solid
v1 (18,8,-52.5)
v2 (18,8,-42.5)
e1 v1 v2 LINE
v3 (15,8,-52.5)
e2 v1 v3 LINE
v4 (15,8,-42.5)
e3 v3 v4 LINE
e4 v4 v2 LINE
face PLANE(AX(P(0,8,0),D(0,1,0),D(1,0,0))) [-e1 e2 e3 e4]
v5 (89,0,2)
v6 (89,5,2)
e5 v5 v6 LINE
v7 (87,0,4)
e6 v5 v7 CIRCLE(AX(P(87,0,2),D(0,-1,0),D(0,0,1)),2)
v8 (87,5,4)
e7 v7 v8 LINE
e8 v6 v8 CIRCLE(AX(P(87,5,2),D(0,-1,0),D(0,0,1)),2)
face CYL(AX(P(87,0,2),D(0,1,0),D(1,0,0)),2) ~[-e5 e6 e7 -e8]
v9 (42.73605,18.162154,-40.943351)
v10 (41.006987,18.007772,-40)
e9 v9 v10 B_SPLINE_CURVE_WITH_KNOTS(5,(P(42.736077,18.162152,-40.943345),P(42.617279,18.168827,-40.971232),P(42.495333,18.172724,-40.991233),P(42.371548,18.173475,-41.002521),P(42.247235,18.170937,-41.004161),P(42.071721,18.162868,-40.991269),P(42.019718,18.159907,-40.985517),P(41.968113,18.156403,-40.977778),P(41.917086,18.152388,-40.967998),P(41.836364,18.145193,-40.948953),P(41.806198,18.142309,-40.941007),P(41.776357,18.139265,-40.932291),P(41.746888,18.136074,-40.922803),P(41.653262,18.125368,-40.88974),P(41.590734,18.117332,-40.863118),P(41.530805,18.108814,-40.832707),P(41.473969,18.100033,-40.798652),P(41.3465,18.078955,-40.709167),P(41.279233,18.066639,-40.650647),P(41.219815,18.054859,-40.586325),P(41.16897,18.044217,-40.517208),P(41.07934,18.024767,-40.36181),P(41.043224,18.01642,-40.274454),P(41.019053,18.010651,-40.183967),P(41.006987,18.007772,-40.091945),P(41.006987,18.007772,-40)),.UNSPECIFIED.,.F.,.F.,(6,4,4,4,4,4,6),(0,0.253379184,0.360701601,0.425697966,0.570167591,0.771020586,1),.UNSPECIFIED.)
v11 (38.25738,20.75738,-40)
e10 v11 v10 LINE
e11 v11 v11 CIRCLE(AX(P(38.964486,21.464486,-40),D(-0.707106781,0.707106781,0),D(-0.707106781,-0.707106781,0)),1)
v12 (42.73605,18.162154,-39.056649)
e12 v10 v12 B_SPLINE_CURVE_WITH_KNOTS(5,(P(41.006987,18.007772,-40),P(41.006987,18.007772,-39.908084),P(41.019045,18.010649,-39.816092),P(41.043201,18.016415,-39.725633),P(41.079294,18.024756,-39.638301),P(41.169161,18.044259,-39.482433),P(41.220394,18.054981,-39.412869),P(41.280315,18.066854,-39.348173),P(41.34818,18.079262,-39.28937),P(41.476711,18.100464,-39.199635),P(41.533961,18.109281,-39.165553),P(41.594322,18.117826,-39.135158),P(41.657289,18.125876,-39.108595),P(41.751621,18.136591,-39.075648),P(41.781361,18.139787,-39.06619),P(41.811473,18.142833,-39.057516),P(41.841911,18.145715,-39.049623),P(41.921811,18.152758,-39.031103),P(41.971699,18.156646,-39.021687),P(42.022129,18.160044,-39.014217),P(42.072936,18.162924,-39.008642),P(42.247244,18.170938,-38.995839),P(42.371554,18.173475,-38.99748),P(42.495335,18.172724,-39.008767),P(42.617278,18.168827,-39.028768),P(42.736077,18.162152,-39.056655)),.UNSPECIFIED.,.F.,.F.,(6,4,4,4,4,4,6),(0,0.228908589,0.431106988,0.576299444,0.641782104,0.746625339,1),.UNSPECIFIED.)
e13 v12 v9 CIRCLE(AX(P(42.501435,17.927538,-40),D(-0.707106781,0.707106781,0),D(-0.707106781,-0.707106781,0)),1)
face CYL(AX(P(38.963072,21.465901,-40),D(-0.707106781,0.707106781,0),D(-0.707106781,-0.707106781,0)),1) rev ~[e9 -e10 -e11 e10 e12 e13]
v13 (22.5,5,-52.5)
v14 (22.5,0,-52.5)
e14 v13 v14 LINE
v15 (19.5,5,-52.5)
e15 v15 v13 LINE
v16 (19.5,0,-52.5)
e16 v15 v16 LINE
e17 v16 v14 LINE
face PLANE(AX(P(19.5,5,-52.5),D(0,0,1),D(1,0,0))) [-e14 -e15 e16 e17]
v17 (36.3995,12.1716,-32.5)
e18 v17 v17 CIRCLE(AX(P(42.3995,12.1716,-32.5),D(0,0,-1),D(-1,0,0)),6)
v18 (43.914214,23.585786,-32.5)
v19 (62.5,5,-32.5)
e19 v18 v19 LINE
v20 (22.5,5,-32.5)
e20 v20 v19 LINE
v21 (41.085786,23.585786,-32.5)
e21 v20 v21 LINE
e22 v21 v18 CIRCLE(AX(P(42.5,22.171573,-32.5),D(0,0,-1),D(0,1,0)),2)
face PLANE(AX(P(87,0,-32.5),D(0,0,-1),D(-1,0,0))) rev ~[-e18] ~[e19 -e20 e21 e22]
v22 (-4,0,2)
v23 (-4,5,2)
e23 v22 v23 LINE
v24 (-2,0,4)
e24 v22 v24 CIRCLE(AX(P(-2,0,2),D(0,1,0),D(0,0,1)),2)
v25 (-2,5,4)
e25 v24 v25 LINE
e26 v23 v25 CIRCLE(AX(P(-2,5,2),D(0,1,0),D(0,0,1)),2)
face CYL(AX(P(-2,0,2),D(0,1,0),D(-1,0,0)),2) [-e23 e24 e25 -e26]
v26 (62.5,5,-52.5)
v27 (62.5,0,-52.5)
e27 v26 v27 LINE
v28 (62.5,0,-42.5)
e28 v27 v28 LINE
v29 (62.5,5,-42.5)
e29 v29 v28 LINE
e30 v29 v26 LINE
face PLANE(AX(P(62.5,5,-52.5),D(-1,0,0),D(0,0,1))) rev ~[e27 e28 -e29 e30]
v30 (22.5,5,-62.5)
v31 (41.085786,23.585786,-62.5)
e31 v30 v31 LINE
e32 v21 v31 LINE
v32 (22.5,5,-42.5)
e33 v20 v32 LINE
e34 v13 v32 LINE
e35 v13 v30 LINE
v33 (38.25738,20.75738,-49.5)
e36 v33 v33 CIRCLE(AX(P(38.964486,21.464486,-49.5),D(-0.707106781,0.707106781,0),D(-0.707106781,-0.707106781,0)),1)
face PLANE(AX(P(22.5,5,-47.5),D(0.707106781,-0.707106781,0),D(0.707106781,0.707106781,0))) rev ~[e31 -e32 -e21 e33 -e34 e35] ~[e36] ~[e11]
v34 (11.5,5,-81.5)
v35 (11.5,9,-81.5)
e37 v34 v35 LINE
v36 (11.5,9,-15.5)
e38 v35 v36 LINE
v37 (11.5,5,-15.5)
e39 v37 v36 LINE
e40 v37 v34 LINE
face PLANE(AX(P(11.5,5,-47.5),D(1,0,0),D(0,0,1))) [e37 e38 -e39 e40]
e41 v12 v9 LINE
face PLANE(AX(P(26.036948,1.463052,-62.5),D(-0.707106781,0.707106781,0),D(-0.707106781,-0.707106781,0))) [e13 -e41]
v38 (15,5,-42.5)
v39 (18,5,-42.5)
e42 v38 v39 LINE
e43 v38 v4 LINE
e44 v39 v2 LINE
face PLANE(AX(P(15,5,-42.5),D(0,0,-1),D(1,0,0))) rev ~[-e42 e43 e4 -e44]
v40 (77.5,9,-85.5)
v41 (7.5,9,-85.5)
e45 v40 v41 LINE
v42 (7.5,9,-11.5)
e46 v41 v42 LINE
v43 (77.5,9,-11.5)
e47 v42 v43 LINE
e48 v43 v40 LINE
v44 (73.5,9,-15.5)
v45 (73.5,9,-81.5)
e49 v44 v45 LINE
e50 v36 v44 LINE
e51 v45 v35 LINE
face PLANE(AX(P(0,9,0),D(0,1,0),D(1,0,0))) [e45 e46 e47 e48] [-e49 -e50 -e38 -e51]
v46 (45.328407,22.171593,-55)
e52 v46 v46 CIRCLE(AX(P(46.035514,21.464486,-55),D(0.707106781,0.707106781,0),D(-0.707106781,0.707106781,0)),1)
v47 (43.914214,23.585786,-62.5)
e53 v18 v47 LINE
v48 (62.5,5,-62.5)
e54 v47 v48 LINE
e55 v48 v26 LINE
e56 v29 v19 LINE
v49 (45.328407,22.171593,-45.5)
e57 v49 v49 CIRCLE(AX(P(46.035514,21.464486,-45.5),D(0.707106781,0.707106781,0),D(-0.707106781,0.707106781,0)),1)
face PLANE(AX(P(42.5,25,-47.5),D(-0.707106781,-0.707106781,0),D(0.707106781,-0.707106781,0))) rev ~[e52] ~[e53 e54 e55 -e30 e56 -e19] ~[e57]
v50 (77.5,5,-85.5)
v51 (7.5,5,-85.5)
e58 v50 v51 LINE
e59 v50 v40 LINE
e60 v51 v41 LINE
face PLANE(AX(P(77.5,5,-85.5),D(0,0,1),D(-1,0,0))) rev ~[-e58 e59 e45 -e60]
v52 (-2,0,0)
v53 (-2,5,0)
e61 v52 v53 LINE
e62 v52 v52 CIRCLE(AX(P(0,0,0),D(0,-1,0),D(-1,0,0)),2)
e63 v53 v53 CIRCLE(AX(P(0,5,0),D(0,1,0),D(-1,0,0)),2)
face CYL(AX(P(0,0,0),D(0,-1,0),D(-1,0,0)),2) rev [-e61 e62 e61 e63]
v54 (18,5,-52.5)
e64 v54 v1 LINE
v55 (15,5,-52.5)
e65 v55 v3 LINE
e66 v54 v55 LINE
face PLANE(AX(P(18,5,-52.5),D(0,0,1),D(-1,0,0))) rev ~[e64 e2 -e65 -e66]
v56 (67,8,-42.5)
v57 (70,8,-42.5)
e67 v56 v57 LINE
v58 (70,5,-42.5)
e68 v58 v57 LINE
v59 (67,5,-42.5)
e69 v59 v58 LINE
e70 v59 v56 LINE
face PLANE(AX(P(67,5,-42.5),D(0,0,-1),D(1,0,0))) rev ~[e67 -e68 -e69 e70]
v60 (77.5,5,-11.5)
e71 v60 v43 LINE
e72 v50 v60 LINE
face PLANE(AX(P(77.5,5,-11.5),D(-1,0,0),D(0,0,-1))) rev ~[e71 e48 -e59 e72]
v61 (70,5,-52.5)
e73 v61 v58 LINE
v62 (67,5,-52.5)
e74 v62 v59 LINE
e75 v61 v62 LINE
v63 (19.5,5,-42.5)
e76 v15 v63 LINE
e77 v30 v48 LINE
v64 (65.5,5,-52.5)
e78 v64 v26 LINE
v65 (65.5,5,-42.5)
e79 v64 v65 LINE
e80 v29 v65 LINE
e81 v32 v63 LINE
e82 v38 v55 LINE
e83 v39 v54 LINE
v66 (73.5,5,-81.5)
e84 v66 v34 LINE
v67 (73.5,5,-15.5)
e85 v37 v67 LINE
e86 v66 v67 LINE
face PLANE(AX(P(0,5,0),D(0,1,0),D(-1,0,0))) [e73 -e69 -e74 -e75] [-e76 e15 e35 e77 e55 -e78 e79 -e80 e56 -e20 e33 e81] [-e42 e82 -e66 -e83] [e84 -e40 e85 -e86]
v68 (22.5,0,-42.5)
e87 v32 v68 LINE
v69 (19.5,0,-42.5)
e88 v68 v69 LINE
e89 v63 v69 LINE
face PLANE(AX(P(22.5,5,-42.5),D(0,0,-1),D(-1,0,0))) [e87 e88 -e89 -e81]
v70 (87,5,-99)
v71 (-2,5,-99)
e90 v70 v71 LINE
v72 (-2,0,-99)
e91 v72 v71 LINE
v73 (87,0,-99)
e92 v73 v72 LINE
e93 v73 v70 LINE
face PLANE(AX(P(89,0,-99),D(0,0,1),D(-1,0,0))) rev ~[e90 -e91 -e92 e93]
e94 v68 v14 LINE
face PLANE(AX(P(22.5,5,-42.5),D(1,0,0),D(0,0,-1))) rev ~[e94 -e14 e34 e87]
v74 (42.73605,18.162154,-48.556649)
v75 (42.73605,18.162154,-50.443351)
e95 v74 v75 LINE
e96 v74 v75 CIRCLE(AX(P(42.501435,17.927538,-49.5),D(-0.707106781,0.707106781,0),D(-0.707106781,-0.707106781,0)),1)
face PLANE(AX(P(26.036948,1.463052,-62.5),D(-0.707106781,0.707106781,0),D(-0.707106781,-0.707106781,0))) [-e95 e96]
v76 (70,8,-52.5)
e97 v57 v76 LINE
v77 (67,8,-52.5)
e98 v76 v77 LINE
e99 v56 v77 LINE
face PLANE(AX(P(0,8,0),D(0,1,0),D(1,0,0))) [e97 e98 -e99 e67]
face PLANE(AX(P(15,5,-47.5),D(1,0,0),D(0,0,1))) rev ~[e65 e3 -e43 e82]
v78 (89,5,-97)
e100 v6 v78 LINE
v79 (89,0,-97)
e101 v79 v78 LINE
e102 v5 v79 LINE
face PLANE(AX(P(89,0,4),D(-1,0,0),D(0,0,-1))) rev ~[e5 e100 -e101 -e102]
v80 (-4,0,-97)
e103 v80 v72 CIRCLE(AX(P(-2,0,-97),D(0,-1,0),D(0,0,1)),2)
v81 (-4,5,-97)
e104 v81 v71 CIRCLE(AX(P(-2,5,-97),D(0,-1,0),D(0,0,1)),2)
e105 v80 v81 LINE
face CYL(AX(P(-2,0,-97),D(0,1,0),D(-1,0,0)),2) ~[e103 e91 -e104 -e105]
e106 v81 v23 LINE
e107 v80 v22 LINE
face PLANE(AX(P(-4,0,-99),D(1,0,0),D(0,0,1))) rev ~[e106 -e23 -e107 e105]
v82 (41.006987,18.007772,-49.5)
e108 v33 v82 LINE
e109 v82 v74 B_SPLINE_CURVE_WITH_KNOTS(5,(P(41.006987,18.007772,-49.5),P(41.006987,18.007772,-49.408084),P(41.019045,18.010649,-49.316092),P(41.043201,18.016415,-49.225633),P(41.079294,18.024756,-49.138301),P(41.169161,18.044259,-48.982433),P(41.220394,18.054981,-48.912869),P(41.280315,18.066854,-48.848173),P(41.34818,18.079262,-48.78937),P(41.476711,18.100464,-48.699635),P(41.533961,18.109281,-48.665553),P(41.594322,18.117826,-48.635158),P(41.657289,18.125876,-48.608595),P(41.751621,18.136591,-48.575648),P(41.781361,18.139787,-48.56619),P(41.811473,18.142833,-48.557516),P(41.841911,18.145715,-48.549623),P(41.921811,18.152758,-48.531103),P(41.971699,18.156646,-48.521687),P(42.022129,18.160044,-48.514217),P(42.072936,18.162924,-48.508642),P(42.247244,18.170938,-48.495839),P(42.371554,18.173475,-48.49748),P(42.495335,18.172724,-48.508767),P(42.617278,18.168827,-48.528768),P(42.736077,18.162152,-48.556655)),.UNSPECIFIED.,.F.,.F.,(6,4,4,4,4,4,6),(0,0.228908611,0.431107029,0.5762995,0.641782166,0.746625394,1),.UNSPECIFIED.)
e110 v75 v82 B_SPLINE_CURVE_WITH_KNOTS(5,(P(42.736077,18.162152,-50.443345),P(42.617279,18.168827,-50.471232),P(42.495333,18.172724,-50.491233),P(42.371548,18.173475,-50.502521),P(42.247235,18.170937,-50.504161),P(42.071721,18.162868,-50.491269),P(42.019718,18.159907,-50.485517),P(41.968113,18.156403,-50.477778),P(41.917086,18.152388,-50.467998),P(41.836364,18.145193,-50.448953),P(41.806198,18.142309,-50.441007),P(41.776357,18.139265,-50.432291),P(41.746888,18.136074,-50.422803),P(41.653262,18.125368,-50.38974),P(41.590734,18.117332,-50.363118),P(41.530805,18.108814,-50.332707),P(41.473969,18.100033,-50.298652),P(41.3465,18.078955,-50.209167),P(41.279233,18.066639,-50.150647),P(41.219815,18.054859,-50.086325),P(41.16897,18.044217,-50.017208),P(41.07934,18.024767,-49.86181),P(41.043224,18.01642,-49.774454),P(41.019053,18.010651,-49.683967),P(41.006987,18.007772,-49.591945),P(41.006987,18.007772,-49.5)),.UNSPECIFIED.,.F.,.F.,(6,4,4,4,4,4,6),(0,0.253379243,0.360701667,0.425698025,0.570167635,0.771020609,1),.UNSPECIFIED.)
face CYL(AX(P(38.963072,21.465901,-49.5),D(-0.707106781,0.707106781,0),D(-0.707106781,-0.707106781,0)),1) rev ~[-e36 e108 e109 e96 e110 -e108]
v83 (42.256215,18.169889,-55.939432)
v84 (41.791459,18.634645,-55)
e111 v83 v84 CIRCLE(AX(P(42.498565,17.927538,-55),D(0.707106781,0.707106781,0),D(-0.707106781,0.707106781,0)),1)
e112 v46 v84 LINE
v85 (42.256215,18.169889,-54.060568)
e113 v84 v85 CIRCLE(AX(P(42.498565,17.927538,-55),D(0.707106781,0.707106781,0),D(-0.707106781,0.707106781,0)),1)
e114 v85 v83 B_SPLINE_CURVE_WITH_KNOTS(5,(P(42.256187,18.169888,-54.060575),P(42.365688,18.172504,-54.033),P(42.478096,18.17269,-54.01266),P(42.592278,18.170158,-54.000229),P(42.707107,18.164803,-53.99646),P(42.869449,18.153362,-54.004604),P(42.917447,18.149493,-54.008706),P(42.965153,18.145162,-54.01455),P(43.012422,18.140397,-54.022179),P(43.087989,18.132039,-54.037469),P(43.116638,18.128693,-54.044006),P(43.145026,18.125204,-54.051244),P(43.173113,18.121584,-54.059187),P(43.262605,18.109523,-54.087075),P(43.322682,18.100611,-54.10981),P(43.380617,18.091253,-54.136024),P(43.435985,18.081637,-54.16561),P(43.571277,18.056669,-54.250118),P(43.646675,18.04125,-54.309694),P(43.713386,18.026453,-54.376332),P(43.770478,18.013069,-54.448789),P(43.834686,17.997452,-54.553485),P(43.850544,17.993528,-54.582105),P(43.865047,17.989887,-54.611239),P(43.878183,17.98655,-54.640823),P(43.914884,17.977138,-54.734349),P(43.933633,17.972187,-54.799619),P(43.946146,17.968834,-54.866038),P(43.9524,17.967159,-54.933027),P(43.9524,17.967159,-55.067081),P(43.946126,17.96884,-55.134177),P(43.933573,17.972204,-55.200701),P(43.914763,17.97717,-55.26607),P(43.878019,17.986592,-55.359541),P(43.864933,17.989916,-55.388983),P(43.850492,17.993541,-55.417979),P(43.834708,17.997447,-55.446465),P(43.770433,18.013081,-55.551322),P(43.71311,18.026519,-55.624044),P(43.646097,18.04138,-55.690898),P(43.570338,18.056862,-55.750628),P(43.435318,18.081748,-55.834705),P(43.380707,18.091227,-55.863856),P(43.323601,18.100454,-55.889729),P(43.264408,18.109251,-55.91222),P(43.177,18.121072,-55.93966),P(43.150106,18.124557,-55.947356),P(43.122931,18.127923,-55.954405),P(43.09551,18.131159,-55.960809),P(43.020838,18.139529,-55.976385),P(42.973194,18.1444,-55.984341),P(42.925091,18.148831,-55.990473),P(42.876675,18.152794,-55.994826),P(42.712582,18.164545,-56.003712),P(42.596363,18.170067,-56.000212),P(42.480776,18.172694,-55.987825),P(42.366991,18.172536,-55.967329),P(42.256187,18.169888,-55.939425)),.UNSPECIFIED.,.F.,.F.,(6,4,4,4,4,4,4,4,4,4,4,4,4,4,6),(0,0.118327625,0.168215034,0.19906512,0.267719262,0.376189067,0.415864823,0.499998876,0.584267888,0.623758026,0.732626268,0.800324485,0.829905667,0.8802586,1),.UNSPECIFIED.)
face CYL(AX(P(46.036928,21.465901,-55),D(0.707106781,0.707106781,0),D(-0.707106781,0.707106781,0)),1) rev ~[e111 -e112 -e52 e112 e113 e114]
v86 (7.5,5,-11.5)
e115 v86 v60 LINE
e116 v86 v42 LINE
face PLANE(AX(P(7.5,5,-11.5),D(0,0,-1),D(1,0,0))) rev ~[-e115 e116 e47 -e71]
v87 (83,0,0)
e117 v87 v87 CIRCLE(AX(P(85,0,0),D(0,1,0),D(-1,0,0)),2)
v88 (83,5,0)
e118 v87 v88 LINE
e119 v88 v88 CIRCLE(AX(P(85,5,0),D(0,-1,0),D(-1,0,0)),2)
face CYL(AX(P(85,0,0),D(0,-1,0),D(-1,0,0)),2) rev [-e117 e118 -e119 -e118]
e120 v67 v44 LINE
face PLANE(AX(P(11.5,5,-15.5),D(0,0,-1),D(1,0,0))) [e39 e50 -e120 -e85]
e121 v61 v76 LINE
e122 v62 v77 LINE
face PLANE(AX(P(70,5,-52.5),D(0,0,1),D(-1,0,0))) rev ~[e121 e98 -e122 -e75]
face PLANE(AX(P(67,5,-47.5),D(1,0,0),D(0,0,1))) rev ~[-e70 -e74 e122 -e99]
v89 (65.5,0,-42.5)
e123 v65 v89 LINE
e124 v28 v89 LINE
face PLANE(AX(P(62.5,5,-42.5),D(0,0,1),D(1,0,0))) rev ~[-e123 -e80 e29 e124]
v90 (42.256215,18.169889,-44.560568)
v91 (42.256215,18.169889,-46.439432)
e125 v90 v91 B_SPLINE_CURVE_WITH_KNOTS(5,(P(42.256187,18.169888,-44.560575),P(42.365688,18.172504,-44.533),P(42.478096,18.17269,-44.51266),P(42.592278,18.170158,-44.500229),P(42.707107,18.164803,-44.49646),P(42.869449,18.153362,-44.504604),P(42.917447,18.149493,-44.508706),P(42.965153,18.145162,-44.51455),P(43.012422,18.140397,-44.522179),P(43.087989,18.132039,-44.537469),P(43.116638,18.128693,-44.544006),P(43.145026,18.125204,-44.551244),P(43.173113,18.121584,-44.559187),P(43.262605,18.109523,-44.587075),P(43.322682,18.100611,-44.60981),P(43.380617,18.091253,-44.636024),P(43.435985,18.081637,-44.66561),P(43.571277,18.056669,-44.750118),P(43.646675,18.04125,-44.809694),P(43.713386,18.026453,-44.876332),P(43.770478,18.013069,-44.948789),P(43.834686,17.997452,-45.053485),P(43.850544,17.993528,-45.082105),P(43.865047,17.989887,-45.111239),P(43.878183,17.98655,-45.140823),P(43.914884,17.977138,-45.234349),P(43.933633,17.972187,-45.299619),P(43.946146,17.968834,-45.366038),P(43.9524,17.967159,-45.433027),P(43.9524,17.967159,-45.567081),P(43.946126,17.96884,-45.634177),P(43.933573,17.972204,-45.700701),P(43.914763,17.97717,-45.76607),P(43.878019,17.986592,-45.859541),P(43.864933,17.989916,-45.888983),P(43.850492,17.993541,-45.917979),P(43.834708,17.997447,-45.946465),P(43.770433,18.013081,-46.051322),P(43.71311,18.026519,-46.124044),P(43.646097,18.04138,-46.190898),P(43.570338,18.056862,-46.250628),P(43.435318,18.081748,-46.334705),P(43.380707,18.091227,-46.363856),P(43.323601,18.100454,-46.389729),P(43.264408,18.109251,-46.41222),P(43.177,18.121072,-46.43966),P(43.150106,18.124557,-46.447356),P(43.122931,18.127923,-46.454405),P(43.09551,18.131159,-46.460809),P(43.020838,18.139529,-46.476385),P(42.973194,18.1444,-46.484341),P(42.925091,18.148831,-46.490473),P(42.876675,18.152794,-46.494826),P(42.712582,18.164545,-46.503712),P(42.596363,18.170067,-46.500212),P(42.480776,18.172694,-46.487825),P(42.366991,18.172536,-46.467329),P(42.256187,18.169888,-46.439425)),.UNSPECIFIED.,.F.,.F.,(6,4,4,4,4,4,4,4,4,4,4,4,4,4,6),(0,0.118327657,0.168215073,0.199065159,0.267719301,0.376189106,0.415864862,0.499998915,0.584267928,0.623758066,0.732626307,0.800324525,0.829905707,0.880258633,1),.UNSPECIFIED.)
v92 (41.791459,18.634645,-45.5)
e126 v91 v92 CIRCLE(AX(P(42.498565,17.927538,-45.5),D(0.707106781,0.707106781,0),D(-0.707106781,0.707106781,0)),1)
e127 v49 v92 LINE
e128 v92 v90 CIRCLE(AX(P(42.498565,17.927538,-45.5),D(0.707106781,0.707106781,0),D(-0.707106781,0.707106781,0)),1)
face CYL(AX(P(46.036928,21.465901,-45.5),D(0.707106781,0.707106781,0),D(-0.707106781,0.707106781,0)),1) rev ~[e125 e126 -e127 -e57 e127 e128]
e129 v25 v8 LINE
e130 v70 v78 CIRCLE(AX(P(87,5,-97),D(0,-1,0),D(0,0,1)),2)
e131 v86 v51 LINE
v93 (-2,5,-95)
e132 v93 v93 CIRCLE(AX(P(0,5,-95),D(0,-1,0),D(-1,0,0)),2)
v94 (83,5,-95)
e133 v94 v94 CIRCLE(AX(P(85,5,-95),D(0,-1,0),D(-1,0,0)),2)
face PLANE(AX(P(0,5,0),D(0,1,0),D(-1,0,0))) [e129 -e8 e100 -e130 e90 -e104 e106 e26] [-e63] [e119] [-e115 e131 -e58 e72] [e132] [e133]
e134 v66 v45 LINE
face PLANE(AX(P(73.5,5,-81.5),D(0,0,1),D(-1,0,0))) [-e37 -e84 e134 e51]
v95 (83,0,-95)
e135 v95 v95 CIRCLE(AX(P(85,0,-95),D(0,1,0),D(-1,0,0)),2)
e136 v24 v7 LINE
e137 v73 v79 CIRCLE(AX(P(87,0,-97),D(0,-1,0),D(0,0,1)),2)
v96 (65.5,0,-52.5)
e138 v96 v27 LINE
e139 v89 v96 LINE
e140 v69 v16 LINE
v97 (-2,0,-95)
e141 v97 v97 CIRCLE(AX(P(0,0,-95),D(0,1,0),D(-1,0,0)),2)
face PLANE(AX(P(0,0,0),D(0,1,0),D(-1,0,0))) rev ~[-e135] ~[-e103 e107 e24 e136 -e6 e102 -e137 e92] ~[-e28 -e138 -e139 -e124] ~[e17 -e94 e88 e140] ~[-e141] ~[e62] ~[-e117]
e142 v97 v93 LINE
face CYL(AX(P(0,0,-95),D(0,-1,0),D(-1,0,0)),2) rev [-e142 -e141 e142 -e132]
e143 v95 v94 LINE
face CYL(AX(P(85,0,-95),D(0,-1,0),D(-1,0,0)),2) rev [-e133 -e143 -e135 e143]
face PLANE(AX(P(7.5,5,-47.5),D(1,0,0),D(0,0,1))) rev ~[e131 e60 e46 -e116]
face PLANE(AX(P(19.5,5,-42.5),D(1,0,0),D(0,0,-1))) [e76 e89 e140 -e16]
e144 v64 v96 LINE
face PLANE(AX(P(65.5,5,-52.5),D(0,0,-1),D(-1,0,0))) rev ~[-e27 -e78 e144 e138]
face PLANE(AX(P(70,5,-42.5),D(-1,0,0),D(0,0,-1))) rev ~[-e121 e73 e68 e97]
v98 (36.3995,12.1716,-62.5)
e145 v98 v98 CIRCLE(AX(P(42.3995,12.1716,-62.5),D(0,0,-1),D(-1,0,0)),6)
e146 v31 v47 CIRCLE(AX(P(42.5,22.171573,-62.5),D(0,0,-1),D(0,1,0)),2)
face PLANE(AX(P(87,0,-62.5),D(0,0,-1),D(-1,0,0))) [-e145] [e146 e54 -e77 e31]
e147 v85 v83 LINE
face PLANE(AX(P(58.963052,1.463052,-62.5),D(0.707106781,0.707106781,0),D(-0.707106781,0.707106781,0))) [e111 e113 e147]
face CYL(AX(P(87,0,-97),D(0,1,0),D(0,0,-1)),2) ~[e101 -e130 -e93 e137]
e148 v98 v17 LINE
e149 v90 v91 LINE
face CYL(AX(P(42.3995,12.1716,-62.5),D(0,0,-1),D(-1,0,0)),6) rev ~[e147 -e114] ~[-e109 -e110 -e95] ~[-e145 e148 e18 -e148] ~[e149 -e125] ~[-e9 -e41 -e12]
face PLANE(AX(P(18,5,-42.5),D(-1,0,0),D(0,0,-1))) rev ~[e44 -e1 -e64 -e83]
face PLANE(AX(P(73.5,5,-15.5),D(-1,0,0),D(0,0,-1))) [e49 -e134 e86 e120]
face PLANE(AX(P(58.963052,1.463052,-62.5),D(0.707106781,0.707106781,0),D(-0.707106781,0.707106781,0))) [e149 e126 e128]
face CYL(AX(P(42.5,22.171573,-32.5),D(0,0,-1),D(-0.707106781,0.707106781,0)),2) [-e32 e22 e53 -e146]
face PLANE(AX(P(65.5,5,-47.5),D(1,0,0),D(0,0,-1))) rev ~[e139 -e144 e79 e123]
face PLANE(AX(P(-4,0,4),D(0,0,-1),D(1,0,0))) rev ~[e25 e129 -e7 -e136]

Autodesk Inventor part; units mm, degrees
ref_plane "YZ Plane" through (0, 0, 0) normal (1, 0, 0) x (0, 1, 0)
ref_plane "XZ Plane" through (0, 0, 0) normal (0, 1, 0) x (-1, 0, 0)
ref_plane "XY Plane" through (0, 0, 0) normal (0, 0, 1) x (1, 0, 0)
sketch "Náčrt1" plane through (0, 0, 0) normal (0, 1, 0) x (-1, 0, 0)
  line L0 (0, 0) -> (-85, 0)
  line L1 (-85, 0) -> (-85, -95)
  line L2 (-85, -95) -> (0, -95)
  line L3 (0, -95) -> (0, 0)
  line L4 (4, 4) -> (-89, 4)
  line L5 (-89, 4) -> (-89, -99)
  line L6 (-89, -99) -> (4, -99)
  line L7 (4, -99) -> (4, 4)
  circle A0 centre (0, 0) radius 2
  circle A1 centre (0, -95) radius 2
  circle A2 centre (-85, -95) radius 2
  circle A3 centre (-85, 0) radius 2
  dimension "d0" = 4
  dimension "d1" = 4
  dimension "d2" = 4
  dimension "d3" = 4
  dimension "d4" = 85
  dimension "d5" = 95
  dimension "d6" = 4
  dimension "d7" = 4
  dimension "d8" = 4
  dimension "d9" = 4
  dimension "d10" = 4
  dimension "d11" = 4
extrude "Vysunutí1" add sketch "Náčrt1" along normal blind 5 contours L0 A0 L3 A1 L2 A2 L1 A3 | L7 L6 L5 L4
extrude "Vysunutí2" cut sketch "Náčrt1" along normal blind 5 contours A3 L1 L0 | L0 L1 A3 | A0 L3 L0 | L0 L3 A0 | A2 L2 L1 | L1 L2 A2 | A1 L2 L3 | L3 L2 A1
fillet "Zaoblení1" radius 2 4 edges at (89, 2.5, 4) (-4, 2.5, 4) (89, 2.5, -99) (-4, 2.5, -99)
sketch "Náčrt2" plane through (0, 5, 0) normal (0, 1, 0) x (1, 0, 0)
  point P0 (0, 0)
ref_plane "Pracovní rovina1" through (87, 0, -47.5) normal (0, 0, -1) x (-1, 0, 0)
sketch "Náčrt3" plane through (87, 0, -47.5) normal (0, 0, -1) x (-1, 0, 0)
  line L0 (89, 5) -> (0, 5) projected
  line L1 (24.5, 5) -> (64.5, 5)
  line L2 (64.5, 5) -> (44.5, 25)
  line L3 (44.5, 25) -> (24.5, 5)
  line L4 (24.5, 5) -> (64.5, 5)
  line L5 (91, 0) -> (91, 5) projected
  point P0 (87, 0)
  dimension "d22" = 90
  dimension "d26" = 45
  dimension "d27" = 20
  dimension "d28" = 46.5
extrude "Vysunutí3" add sketch "Náčrt3" along normal mid plane 30
fillet "Zaoblení2" radius 2 1 edges at (42.5, 25, -47.5)
sketch "Náčrt4" plane through (0, 5, 0) normal (0, 1, 0) x (1, 0, 0)
  line L0 (11.5, 15.5) -> (73.5, 15.5)
  line L1 (73.5, 15.5) -> (73.5, 81.5)
  line L2 (73.5, 81.5) -> (11.5, 81.5)
  line L3 (11.5, 81.5) -> (11.5, 15.5)
  line L4 (7.5, 11.5) -> (77.5, 11.5)
  line L5 (77.5, 11.5) -> (77.5, 85.5)
  line L6 (77.5, 85.5) -> (7.5, 85.5)
  line L7 (7.5, 85.5) -> (7.5, 11.5)
  line L8 (-22.6, 47.5) -> (107.6, 47.5) projected
  line L9 (-4, 97) -> (-4, -2) projected
  line L10 (89, -2) -> (89, 97) projected
  point P0 (0, 0)
  dimension "d32" = 62
  dimension "d33" = 66
  dimension "d34" = 4
  dimension "d35" = 4
  dimension "d36" = 4
  dimension "d37" = 4
  dimension "d38" = 34
  dimension "d39" = 11.5
  dimension "d40" = 11.5
extrude "Vysunutí4" add sketch "Náčrt4" along normal blind 4 contours L0 L1 L8 L5 L4 L7 L3 | L8 L7 L6 L5 L1 L2 L3
sketch "Náčrt5" plane through (0, 5, 0) normal (0, 1, 0) x (1, 0, 0)
  line L0 (67, 42.5) -> (70, 42.5)
  line L1 (70, 42.5) -> (70, 52.5)
  line L2 (70, 52.5) -> (67, 52.5)
  line L3 (67, 52.5) -> (67, 42.5)
  line L4 (73.5, 81.5) -> (73.5, 15.5) projected
  line L5 (-22.6, 47.5) -> (107.6, 47.5) projected
  line L6 (15, 42.5) -> (18, 42.5)
  line L7 (18, 42.5) -> (18, 52.5)
  line L8 (18, 52.5) -> (15, 52.5)
  line L9 (15, 52.5) -> (15, 42.5)
  line L10 (11.5, 15.5) -> (11.5, 81.5) projected
  point P0 (0, 0)
  dimension "d43" = 3.5
  dimension "d44" = 3
  dimension "d45" = 10
  dimension "d46" = 5
  dimension "d47" = 5
  dimension "d48" = 10
  dimension "d49" = 3
  dimension "d50" = 3.5
extrude "Vysunutí5" add sketch "Náčrt5" along normal blind 3
sketch "Náčrt6" plane through (62.5, 5, -62.5) normal (0.7071, 0.7071, 0) x (-0.7071, 0.7071, 0)
  circle A0 centre (23.2843, 17) radius 1
  circle A1 centre (23.2843, 7.5) radius 1
  line L0 (26.2843, 0) -> (0, 0) projected
  line L1 (26.2843, 30) -> (26.2843, 0) projected
  point P0 (40.6586, 62.5)
  dimension "d53" = 9.5
  dimension "d54" = 2
  dimension "d55" = 2
  dimension "d56" = 7.5
  dimension "d57" = 3
  dimension "d58" = 3
sketch "Náčrt7" plane through (22.5, 5, -62.5) normal (-0.7071, 0.7071, 0) x (-0.7071, -0.7071, 0)
  circle A0 centre (-23.2843, 13) radius 1
  circle A1 centre (-23.2843, 22.5) radius 1
  line L0 (-26.2843, 0) -> (-26.2843, 30) projected
  line L1 (-26.2843, 30) -> (0, 30) projected
  point P0 (19.4454, 62.5)
  dimension "d59" = 2
  dimension "d60" = 2
  dimension "d61" = 9.5
  dimension "d62" = 3
  dimension "d63" = 3
  dimension "d64" = 7.5
extrude "Vysunutí6" cut sketch "Náčrt6" against normal blind 5
extrude "Vysunutí7" cut sketch "Náčrt7" against normal blind 5
sketch "Náčrt8" plane through (0, 5, 0) normal (0, 1, 0) x (1, 0, 0)
  line L0 (62.5, 62.5) -> (62.5, 32.5) projected
  line L1 (62.5, 42.5) -> (65.5, 42.5)
  line L2 (65.5, 42.5) -> (65.5, 52.5)
  line L3 (65.5, 52.5) -> (62.5, 52.5)
  line L4 (62.5, 52.5) -> (62.5, 42.5)
  line L5 (70, 52.5) -> (67, 52.5) projected
  line L6 (67, 42.5) -> (70, 42.5) projected
  line L7 (-22.6, 47.5) -> (107.6, 47.5) projected
  line L8 (22.5, 32.5) -> (22.5, 62.5) projected
  line L9 (22.5, 42.5) -> (19.5, 42.5)
  line L10 (19.5, 42.5) -> (19.5, 52.5)
  line L11 (19.5, 52.5) -> (22.5, 52.5)
  line L12 (22.5, 52.5) -> (22.5, 42.5)
  line L13 (15, 42.5) -> (18, 42.5) projected
  point P0 (0, 0)
  dimension "d69" = 10
  dimension "d70" = 5
  dimension "d73" = 5
  dimension "d74" = 10
extrude "Vysunutí8" cut sketch "Náčrt8" against normal blind 5 contours L3 L2 L7 L0 | L7 L2 L1 L0
extrude "Vysunutí9" cut sketch "Náčrt8" against normal blind 5 contours L8 L9 L10 L7 | L7 L10 L11 L8
sketch "Náčrt9" plane through (87, 0, -62.5) normal (0, 0, -1) x (-1, 0, 0)
  circle A0 centre (44.6005, 12.1716) radius 6
  arc A1 (45.9142, 23.5858) -> (43.0858, 23.5858) centre (44.5, 22.1716) ccw projected
  line L0 (64.5, 5) -> (45.9142, 23.5858) projected
  line L1 (43.0858, 23.5858) -> (24.5, 5) projected
  point P0 (87, 0)
  dimension "d77" = 12
  dimension "d78" = 10
  dimension "d79" = 9
  dimension "d80" = 9.1421
extrude "Vysunutí10" cut sketch "Náčrt9" against normal blind 30
equation "\"d1\" = d0"
equation "\"d2\" = d0"
equation "\"d3\" = d0"
equation "\"d9\" = d7"
equation "\"d10\" = d7"
equation "\"d11\" = d7"
equation "\"d35\" = d34"
equation "\"d36\" = d34"
equation "\"d37\" = d34"
equation "\"d55\" = d54"
equation "\"d58\" = d57"
equation "\"d60\" = d59"
equation "\"d63\" = d62"
properties part number "Senzor-vikos"
